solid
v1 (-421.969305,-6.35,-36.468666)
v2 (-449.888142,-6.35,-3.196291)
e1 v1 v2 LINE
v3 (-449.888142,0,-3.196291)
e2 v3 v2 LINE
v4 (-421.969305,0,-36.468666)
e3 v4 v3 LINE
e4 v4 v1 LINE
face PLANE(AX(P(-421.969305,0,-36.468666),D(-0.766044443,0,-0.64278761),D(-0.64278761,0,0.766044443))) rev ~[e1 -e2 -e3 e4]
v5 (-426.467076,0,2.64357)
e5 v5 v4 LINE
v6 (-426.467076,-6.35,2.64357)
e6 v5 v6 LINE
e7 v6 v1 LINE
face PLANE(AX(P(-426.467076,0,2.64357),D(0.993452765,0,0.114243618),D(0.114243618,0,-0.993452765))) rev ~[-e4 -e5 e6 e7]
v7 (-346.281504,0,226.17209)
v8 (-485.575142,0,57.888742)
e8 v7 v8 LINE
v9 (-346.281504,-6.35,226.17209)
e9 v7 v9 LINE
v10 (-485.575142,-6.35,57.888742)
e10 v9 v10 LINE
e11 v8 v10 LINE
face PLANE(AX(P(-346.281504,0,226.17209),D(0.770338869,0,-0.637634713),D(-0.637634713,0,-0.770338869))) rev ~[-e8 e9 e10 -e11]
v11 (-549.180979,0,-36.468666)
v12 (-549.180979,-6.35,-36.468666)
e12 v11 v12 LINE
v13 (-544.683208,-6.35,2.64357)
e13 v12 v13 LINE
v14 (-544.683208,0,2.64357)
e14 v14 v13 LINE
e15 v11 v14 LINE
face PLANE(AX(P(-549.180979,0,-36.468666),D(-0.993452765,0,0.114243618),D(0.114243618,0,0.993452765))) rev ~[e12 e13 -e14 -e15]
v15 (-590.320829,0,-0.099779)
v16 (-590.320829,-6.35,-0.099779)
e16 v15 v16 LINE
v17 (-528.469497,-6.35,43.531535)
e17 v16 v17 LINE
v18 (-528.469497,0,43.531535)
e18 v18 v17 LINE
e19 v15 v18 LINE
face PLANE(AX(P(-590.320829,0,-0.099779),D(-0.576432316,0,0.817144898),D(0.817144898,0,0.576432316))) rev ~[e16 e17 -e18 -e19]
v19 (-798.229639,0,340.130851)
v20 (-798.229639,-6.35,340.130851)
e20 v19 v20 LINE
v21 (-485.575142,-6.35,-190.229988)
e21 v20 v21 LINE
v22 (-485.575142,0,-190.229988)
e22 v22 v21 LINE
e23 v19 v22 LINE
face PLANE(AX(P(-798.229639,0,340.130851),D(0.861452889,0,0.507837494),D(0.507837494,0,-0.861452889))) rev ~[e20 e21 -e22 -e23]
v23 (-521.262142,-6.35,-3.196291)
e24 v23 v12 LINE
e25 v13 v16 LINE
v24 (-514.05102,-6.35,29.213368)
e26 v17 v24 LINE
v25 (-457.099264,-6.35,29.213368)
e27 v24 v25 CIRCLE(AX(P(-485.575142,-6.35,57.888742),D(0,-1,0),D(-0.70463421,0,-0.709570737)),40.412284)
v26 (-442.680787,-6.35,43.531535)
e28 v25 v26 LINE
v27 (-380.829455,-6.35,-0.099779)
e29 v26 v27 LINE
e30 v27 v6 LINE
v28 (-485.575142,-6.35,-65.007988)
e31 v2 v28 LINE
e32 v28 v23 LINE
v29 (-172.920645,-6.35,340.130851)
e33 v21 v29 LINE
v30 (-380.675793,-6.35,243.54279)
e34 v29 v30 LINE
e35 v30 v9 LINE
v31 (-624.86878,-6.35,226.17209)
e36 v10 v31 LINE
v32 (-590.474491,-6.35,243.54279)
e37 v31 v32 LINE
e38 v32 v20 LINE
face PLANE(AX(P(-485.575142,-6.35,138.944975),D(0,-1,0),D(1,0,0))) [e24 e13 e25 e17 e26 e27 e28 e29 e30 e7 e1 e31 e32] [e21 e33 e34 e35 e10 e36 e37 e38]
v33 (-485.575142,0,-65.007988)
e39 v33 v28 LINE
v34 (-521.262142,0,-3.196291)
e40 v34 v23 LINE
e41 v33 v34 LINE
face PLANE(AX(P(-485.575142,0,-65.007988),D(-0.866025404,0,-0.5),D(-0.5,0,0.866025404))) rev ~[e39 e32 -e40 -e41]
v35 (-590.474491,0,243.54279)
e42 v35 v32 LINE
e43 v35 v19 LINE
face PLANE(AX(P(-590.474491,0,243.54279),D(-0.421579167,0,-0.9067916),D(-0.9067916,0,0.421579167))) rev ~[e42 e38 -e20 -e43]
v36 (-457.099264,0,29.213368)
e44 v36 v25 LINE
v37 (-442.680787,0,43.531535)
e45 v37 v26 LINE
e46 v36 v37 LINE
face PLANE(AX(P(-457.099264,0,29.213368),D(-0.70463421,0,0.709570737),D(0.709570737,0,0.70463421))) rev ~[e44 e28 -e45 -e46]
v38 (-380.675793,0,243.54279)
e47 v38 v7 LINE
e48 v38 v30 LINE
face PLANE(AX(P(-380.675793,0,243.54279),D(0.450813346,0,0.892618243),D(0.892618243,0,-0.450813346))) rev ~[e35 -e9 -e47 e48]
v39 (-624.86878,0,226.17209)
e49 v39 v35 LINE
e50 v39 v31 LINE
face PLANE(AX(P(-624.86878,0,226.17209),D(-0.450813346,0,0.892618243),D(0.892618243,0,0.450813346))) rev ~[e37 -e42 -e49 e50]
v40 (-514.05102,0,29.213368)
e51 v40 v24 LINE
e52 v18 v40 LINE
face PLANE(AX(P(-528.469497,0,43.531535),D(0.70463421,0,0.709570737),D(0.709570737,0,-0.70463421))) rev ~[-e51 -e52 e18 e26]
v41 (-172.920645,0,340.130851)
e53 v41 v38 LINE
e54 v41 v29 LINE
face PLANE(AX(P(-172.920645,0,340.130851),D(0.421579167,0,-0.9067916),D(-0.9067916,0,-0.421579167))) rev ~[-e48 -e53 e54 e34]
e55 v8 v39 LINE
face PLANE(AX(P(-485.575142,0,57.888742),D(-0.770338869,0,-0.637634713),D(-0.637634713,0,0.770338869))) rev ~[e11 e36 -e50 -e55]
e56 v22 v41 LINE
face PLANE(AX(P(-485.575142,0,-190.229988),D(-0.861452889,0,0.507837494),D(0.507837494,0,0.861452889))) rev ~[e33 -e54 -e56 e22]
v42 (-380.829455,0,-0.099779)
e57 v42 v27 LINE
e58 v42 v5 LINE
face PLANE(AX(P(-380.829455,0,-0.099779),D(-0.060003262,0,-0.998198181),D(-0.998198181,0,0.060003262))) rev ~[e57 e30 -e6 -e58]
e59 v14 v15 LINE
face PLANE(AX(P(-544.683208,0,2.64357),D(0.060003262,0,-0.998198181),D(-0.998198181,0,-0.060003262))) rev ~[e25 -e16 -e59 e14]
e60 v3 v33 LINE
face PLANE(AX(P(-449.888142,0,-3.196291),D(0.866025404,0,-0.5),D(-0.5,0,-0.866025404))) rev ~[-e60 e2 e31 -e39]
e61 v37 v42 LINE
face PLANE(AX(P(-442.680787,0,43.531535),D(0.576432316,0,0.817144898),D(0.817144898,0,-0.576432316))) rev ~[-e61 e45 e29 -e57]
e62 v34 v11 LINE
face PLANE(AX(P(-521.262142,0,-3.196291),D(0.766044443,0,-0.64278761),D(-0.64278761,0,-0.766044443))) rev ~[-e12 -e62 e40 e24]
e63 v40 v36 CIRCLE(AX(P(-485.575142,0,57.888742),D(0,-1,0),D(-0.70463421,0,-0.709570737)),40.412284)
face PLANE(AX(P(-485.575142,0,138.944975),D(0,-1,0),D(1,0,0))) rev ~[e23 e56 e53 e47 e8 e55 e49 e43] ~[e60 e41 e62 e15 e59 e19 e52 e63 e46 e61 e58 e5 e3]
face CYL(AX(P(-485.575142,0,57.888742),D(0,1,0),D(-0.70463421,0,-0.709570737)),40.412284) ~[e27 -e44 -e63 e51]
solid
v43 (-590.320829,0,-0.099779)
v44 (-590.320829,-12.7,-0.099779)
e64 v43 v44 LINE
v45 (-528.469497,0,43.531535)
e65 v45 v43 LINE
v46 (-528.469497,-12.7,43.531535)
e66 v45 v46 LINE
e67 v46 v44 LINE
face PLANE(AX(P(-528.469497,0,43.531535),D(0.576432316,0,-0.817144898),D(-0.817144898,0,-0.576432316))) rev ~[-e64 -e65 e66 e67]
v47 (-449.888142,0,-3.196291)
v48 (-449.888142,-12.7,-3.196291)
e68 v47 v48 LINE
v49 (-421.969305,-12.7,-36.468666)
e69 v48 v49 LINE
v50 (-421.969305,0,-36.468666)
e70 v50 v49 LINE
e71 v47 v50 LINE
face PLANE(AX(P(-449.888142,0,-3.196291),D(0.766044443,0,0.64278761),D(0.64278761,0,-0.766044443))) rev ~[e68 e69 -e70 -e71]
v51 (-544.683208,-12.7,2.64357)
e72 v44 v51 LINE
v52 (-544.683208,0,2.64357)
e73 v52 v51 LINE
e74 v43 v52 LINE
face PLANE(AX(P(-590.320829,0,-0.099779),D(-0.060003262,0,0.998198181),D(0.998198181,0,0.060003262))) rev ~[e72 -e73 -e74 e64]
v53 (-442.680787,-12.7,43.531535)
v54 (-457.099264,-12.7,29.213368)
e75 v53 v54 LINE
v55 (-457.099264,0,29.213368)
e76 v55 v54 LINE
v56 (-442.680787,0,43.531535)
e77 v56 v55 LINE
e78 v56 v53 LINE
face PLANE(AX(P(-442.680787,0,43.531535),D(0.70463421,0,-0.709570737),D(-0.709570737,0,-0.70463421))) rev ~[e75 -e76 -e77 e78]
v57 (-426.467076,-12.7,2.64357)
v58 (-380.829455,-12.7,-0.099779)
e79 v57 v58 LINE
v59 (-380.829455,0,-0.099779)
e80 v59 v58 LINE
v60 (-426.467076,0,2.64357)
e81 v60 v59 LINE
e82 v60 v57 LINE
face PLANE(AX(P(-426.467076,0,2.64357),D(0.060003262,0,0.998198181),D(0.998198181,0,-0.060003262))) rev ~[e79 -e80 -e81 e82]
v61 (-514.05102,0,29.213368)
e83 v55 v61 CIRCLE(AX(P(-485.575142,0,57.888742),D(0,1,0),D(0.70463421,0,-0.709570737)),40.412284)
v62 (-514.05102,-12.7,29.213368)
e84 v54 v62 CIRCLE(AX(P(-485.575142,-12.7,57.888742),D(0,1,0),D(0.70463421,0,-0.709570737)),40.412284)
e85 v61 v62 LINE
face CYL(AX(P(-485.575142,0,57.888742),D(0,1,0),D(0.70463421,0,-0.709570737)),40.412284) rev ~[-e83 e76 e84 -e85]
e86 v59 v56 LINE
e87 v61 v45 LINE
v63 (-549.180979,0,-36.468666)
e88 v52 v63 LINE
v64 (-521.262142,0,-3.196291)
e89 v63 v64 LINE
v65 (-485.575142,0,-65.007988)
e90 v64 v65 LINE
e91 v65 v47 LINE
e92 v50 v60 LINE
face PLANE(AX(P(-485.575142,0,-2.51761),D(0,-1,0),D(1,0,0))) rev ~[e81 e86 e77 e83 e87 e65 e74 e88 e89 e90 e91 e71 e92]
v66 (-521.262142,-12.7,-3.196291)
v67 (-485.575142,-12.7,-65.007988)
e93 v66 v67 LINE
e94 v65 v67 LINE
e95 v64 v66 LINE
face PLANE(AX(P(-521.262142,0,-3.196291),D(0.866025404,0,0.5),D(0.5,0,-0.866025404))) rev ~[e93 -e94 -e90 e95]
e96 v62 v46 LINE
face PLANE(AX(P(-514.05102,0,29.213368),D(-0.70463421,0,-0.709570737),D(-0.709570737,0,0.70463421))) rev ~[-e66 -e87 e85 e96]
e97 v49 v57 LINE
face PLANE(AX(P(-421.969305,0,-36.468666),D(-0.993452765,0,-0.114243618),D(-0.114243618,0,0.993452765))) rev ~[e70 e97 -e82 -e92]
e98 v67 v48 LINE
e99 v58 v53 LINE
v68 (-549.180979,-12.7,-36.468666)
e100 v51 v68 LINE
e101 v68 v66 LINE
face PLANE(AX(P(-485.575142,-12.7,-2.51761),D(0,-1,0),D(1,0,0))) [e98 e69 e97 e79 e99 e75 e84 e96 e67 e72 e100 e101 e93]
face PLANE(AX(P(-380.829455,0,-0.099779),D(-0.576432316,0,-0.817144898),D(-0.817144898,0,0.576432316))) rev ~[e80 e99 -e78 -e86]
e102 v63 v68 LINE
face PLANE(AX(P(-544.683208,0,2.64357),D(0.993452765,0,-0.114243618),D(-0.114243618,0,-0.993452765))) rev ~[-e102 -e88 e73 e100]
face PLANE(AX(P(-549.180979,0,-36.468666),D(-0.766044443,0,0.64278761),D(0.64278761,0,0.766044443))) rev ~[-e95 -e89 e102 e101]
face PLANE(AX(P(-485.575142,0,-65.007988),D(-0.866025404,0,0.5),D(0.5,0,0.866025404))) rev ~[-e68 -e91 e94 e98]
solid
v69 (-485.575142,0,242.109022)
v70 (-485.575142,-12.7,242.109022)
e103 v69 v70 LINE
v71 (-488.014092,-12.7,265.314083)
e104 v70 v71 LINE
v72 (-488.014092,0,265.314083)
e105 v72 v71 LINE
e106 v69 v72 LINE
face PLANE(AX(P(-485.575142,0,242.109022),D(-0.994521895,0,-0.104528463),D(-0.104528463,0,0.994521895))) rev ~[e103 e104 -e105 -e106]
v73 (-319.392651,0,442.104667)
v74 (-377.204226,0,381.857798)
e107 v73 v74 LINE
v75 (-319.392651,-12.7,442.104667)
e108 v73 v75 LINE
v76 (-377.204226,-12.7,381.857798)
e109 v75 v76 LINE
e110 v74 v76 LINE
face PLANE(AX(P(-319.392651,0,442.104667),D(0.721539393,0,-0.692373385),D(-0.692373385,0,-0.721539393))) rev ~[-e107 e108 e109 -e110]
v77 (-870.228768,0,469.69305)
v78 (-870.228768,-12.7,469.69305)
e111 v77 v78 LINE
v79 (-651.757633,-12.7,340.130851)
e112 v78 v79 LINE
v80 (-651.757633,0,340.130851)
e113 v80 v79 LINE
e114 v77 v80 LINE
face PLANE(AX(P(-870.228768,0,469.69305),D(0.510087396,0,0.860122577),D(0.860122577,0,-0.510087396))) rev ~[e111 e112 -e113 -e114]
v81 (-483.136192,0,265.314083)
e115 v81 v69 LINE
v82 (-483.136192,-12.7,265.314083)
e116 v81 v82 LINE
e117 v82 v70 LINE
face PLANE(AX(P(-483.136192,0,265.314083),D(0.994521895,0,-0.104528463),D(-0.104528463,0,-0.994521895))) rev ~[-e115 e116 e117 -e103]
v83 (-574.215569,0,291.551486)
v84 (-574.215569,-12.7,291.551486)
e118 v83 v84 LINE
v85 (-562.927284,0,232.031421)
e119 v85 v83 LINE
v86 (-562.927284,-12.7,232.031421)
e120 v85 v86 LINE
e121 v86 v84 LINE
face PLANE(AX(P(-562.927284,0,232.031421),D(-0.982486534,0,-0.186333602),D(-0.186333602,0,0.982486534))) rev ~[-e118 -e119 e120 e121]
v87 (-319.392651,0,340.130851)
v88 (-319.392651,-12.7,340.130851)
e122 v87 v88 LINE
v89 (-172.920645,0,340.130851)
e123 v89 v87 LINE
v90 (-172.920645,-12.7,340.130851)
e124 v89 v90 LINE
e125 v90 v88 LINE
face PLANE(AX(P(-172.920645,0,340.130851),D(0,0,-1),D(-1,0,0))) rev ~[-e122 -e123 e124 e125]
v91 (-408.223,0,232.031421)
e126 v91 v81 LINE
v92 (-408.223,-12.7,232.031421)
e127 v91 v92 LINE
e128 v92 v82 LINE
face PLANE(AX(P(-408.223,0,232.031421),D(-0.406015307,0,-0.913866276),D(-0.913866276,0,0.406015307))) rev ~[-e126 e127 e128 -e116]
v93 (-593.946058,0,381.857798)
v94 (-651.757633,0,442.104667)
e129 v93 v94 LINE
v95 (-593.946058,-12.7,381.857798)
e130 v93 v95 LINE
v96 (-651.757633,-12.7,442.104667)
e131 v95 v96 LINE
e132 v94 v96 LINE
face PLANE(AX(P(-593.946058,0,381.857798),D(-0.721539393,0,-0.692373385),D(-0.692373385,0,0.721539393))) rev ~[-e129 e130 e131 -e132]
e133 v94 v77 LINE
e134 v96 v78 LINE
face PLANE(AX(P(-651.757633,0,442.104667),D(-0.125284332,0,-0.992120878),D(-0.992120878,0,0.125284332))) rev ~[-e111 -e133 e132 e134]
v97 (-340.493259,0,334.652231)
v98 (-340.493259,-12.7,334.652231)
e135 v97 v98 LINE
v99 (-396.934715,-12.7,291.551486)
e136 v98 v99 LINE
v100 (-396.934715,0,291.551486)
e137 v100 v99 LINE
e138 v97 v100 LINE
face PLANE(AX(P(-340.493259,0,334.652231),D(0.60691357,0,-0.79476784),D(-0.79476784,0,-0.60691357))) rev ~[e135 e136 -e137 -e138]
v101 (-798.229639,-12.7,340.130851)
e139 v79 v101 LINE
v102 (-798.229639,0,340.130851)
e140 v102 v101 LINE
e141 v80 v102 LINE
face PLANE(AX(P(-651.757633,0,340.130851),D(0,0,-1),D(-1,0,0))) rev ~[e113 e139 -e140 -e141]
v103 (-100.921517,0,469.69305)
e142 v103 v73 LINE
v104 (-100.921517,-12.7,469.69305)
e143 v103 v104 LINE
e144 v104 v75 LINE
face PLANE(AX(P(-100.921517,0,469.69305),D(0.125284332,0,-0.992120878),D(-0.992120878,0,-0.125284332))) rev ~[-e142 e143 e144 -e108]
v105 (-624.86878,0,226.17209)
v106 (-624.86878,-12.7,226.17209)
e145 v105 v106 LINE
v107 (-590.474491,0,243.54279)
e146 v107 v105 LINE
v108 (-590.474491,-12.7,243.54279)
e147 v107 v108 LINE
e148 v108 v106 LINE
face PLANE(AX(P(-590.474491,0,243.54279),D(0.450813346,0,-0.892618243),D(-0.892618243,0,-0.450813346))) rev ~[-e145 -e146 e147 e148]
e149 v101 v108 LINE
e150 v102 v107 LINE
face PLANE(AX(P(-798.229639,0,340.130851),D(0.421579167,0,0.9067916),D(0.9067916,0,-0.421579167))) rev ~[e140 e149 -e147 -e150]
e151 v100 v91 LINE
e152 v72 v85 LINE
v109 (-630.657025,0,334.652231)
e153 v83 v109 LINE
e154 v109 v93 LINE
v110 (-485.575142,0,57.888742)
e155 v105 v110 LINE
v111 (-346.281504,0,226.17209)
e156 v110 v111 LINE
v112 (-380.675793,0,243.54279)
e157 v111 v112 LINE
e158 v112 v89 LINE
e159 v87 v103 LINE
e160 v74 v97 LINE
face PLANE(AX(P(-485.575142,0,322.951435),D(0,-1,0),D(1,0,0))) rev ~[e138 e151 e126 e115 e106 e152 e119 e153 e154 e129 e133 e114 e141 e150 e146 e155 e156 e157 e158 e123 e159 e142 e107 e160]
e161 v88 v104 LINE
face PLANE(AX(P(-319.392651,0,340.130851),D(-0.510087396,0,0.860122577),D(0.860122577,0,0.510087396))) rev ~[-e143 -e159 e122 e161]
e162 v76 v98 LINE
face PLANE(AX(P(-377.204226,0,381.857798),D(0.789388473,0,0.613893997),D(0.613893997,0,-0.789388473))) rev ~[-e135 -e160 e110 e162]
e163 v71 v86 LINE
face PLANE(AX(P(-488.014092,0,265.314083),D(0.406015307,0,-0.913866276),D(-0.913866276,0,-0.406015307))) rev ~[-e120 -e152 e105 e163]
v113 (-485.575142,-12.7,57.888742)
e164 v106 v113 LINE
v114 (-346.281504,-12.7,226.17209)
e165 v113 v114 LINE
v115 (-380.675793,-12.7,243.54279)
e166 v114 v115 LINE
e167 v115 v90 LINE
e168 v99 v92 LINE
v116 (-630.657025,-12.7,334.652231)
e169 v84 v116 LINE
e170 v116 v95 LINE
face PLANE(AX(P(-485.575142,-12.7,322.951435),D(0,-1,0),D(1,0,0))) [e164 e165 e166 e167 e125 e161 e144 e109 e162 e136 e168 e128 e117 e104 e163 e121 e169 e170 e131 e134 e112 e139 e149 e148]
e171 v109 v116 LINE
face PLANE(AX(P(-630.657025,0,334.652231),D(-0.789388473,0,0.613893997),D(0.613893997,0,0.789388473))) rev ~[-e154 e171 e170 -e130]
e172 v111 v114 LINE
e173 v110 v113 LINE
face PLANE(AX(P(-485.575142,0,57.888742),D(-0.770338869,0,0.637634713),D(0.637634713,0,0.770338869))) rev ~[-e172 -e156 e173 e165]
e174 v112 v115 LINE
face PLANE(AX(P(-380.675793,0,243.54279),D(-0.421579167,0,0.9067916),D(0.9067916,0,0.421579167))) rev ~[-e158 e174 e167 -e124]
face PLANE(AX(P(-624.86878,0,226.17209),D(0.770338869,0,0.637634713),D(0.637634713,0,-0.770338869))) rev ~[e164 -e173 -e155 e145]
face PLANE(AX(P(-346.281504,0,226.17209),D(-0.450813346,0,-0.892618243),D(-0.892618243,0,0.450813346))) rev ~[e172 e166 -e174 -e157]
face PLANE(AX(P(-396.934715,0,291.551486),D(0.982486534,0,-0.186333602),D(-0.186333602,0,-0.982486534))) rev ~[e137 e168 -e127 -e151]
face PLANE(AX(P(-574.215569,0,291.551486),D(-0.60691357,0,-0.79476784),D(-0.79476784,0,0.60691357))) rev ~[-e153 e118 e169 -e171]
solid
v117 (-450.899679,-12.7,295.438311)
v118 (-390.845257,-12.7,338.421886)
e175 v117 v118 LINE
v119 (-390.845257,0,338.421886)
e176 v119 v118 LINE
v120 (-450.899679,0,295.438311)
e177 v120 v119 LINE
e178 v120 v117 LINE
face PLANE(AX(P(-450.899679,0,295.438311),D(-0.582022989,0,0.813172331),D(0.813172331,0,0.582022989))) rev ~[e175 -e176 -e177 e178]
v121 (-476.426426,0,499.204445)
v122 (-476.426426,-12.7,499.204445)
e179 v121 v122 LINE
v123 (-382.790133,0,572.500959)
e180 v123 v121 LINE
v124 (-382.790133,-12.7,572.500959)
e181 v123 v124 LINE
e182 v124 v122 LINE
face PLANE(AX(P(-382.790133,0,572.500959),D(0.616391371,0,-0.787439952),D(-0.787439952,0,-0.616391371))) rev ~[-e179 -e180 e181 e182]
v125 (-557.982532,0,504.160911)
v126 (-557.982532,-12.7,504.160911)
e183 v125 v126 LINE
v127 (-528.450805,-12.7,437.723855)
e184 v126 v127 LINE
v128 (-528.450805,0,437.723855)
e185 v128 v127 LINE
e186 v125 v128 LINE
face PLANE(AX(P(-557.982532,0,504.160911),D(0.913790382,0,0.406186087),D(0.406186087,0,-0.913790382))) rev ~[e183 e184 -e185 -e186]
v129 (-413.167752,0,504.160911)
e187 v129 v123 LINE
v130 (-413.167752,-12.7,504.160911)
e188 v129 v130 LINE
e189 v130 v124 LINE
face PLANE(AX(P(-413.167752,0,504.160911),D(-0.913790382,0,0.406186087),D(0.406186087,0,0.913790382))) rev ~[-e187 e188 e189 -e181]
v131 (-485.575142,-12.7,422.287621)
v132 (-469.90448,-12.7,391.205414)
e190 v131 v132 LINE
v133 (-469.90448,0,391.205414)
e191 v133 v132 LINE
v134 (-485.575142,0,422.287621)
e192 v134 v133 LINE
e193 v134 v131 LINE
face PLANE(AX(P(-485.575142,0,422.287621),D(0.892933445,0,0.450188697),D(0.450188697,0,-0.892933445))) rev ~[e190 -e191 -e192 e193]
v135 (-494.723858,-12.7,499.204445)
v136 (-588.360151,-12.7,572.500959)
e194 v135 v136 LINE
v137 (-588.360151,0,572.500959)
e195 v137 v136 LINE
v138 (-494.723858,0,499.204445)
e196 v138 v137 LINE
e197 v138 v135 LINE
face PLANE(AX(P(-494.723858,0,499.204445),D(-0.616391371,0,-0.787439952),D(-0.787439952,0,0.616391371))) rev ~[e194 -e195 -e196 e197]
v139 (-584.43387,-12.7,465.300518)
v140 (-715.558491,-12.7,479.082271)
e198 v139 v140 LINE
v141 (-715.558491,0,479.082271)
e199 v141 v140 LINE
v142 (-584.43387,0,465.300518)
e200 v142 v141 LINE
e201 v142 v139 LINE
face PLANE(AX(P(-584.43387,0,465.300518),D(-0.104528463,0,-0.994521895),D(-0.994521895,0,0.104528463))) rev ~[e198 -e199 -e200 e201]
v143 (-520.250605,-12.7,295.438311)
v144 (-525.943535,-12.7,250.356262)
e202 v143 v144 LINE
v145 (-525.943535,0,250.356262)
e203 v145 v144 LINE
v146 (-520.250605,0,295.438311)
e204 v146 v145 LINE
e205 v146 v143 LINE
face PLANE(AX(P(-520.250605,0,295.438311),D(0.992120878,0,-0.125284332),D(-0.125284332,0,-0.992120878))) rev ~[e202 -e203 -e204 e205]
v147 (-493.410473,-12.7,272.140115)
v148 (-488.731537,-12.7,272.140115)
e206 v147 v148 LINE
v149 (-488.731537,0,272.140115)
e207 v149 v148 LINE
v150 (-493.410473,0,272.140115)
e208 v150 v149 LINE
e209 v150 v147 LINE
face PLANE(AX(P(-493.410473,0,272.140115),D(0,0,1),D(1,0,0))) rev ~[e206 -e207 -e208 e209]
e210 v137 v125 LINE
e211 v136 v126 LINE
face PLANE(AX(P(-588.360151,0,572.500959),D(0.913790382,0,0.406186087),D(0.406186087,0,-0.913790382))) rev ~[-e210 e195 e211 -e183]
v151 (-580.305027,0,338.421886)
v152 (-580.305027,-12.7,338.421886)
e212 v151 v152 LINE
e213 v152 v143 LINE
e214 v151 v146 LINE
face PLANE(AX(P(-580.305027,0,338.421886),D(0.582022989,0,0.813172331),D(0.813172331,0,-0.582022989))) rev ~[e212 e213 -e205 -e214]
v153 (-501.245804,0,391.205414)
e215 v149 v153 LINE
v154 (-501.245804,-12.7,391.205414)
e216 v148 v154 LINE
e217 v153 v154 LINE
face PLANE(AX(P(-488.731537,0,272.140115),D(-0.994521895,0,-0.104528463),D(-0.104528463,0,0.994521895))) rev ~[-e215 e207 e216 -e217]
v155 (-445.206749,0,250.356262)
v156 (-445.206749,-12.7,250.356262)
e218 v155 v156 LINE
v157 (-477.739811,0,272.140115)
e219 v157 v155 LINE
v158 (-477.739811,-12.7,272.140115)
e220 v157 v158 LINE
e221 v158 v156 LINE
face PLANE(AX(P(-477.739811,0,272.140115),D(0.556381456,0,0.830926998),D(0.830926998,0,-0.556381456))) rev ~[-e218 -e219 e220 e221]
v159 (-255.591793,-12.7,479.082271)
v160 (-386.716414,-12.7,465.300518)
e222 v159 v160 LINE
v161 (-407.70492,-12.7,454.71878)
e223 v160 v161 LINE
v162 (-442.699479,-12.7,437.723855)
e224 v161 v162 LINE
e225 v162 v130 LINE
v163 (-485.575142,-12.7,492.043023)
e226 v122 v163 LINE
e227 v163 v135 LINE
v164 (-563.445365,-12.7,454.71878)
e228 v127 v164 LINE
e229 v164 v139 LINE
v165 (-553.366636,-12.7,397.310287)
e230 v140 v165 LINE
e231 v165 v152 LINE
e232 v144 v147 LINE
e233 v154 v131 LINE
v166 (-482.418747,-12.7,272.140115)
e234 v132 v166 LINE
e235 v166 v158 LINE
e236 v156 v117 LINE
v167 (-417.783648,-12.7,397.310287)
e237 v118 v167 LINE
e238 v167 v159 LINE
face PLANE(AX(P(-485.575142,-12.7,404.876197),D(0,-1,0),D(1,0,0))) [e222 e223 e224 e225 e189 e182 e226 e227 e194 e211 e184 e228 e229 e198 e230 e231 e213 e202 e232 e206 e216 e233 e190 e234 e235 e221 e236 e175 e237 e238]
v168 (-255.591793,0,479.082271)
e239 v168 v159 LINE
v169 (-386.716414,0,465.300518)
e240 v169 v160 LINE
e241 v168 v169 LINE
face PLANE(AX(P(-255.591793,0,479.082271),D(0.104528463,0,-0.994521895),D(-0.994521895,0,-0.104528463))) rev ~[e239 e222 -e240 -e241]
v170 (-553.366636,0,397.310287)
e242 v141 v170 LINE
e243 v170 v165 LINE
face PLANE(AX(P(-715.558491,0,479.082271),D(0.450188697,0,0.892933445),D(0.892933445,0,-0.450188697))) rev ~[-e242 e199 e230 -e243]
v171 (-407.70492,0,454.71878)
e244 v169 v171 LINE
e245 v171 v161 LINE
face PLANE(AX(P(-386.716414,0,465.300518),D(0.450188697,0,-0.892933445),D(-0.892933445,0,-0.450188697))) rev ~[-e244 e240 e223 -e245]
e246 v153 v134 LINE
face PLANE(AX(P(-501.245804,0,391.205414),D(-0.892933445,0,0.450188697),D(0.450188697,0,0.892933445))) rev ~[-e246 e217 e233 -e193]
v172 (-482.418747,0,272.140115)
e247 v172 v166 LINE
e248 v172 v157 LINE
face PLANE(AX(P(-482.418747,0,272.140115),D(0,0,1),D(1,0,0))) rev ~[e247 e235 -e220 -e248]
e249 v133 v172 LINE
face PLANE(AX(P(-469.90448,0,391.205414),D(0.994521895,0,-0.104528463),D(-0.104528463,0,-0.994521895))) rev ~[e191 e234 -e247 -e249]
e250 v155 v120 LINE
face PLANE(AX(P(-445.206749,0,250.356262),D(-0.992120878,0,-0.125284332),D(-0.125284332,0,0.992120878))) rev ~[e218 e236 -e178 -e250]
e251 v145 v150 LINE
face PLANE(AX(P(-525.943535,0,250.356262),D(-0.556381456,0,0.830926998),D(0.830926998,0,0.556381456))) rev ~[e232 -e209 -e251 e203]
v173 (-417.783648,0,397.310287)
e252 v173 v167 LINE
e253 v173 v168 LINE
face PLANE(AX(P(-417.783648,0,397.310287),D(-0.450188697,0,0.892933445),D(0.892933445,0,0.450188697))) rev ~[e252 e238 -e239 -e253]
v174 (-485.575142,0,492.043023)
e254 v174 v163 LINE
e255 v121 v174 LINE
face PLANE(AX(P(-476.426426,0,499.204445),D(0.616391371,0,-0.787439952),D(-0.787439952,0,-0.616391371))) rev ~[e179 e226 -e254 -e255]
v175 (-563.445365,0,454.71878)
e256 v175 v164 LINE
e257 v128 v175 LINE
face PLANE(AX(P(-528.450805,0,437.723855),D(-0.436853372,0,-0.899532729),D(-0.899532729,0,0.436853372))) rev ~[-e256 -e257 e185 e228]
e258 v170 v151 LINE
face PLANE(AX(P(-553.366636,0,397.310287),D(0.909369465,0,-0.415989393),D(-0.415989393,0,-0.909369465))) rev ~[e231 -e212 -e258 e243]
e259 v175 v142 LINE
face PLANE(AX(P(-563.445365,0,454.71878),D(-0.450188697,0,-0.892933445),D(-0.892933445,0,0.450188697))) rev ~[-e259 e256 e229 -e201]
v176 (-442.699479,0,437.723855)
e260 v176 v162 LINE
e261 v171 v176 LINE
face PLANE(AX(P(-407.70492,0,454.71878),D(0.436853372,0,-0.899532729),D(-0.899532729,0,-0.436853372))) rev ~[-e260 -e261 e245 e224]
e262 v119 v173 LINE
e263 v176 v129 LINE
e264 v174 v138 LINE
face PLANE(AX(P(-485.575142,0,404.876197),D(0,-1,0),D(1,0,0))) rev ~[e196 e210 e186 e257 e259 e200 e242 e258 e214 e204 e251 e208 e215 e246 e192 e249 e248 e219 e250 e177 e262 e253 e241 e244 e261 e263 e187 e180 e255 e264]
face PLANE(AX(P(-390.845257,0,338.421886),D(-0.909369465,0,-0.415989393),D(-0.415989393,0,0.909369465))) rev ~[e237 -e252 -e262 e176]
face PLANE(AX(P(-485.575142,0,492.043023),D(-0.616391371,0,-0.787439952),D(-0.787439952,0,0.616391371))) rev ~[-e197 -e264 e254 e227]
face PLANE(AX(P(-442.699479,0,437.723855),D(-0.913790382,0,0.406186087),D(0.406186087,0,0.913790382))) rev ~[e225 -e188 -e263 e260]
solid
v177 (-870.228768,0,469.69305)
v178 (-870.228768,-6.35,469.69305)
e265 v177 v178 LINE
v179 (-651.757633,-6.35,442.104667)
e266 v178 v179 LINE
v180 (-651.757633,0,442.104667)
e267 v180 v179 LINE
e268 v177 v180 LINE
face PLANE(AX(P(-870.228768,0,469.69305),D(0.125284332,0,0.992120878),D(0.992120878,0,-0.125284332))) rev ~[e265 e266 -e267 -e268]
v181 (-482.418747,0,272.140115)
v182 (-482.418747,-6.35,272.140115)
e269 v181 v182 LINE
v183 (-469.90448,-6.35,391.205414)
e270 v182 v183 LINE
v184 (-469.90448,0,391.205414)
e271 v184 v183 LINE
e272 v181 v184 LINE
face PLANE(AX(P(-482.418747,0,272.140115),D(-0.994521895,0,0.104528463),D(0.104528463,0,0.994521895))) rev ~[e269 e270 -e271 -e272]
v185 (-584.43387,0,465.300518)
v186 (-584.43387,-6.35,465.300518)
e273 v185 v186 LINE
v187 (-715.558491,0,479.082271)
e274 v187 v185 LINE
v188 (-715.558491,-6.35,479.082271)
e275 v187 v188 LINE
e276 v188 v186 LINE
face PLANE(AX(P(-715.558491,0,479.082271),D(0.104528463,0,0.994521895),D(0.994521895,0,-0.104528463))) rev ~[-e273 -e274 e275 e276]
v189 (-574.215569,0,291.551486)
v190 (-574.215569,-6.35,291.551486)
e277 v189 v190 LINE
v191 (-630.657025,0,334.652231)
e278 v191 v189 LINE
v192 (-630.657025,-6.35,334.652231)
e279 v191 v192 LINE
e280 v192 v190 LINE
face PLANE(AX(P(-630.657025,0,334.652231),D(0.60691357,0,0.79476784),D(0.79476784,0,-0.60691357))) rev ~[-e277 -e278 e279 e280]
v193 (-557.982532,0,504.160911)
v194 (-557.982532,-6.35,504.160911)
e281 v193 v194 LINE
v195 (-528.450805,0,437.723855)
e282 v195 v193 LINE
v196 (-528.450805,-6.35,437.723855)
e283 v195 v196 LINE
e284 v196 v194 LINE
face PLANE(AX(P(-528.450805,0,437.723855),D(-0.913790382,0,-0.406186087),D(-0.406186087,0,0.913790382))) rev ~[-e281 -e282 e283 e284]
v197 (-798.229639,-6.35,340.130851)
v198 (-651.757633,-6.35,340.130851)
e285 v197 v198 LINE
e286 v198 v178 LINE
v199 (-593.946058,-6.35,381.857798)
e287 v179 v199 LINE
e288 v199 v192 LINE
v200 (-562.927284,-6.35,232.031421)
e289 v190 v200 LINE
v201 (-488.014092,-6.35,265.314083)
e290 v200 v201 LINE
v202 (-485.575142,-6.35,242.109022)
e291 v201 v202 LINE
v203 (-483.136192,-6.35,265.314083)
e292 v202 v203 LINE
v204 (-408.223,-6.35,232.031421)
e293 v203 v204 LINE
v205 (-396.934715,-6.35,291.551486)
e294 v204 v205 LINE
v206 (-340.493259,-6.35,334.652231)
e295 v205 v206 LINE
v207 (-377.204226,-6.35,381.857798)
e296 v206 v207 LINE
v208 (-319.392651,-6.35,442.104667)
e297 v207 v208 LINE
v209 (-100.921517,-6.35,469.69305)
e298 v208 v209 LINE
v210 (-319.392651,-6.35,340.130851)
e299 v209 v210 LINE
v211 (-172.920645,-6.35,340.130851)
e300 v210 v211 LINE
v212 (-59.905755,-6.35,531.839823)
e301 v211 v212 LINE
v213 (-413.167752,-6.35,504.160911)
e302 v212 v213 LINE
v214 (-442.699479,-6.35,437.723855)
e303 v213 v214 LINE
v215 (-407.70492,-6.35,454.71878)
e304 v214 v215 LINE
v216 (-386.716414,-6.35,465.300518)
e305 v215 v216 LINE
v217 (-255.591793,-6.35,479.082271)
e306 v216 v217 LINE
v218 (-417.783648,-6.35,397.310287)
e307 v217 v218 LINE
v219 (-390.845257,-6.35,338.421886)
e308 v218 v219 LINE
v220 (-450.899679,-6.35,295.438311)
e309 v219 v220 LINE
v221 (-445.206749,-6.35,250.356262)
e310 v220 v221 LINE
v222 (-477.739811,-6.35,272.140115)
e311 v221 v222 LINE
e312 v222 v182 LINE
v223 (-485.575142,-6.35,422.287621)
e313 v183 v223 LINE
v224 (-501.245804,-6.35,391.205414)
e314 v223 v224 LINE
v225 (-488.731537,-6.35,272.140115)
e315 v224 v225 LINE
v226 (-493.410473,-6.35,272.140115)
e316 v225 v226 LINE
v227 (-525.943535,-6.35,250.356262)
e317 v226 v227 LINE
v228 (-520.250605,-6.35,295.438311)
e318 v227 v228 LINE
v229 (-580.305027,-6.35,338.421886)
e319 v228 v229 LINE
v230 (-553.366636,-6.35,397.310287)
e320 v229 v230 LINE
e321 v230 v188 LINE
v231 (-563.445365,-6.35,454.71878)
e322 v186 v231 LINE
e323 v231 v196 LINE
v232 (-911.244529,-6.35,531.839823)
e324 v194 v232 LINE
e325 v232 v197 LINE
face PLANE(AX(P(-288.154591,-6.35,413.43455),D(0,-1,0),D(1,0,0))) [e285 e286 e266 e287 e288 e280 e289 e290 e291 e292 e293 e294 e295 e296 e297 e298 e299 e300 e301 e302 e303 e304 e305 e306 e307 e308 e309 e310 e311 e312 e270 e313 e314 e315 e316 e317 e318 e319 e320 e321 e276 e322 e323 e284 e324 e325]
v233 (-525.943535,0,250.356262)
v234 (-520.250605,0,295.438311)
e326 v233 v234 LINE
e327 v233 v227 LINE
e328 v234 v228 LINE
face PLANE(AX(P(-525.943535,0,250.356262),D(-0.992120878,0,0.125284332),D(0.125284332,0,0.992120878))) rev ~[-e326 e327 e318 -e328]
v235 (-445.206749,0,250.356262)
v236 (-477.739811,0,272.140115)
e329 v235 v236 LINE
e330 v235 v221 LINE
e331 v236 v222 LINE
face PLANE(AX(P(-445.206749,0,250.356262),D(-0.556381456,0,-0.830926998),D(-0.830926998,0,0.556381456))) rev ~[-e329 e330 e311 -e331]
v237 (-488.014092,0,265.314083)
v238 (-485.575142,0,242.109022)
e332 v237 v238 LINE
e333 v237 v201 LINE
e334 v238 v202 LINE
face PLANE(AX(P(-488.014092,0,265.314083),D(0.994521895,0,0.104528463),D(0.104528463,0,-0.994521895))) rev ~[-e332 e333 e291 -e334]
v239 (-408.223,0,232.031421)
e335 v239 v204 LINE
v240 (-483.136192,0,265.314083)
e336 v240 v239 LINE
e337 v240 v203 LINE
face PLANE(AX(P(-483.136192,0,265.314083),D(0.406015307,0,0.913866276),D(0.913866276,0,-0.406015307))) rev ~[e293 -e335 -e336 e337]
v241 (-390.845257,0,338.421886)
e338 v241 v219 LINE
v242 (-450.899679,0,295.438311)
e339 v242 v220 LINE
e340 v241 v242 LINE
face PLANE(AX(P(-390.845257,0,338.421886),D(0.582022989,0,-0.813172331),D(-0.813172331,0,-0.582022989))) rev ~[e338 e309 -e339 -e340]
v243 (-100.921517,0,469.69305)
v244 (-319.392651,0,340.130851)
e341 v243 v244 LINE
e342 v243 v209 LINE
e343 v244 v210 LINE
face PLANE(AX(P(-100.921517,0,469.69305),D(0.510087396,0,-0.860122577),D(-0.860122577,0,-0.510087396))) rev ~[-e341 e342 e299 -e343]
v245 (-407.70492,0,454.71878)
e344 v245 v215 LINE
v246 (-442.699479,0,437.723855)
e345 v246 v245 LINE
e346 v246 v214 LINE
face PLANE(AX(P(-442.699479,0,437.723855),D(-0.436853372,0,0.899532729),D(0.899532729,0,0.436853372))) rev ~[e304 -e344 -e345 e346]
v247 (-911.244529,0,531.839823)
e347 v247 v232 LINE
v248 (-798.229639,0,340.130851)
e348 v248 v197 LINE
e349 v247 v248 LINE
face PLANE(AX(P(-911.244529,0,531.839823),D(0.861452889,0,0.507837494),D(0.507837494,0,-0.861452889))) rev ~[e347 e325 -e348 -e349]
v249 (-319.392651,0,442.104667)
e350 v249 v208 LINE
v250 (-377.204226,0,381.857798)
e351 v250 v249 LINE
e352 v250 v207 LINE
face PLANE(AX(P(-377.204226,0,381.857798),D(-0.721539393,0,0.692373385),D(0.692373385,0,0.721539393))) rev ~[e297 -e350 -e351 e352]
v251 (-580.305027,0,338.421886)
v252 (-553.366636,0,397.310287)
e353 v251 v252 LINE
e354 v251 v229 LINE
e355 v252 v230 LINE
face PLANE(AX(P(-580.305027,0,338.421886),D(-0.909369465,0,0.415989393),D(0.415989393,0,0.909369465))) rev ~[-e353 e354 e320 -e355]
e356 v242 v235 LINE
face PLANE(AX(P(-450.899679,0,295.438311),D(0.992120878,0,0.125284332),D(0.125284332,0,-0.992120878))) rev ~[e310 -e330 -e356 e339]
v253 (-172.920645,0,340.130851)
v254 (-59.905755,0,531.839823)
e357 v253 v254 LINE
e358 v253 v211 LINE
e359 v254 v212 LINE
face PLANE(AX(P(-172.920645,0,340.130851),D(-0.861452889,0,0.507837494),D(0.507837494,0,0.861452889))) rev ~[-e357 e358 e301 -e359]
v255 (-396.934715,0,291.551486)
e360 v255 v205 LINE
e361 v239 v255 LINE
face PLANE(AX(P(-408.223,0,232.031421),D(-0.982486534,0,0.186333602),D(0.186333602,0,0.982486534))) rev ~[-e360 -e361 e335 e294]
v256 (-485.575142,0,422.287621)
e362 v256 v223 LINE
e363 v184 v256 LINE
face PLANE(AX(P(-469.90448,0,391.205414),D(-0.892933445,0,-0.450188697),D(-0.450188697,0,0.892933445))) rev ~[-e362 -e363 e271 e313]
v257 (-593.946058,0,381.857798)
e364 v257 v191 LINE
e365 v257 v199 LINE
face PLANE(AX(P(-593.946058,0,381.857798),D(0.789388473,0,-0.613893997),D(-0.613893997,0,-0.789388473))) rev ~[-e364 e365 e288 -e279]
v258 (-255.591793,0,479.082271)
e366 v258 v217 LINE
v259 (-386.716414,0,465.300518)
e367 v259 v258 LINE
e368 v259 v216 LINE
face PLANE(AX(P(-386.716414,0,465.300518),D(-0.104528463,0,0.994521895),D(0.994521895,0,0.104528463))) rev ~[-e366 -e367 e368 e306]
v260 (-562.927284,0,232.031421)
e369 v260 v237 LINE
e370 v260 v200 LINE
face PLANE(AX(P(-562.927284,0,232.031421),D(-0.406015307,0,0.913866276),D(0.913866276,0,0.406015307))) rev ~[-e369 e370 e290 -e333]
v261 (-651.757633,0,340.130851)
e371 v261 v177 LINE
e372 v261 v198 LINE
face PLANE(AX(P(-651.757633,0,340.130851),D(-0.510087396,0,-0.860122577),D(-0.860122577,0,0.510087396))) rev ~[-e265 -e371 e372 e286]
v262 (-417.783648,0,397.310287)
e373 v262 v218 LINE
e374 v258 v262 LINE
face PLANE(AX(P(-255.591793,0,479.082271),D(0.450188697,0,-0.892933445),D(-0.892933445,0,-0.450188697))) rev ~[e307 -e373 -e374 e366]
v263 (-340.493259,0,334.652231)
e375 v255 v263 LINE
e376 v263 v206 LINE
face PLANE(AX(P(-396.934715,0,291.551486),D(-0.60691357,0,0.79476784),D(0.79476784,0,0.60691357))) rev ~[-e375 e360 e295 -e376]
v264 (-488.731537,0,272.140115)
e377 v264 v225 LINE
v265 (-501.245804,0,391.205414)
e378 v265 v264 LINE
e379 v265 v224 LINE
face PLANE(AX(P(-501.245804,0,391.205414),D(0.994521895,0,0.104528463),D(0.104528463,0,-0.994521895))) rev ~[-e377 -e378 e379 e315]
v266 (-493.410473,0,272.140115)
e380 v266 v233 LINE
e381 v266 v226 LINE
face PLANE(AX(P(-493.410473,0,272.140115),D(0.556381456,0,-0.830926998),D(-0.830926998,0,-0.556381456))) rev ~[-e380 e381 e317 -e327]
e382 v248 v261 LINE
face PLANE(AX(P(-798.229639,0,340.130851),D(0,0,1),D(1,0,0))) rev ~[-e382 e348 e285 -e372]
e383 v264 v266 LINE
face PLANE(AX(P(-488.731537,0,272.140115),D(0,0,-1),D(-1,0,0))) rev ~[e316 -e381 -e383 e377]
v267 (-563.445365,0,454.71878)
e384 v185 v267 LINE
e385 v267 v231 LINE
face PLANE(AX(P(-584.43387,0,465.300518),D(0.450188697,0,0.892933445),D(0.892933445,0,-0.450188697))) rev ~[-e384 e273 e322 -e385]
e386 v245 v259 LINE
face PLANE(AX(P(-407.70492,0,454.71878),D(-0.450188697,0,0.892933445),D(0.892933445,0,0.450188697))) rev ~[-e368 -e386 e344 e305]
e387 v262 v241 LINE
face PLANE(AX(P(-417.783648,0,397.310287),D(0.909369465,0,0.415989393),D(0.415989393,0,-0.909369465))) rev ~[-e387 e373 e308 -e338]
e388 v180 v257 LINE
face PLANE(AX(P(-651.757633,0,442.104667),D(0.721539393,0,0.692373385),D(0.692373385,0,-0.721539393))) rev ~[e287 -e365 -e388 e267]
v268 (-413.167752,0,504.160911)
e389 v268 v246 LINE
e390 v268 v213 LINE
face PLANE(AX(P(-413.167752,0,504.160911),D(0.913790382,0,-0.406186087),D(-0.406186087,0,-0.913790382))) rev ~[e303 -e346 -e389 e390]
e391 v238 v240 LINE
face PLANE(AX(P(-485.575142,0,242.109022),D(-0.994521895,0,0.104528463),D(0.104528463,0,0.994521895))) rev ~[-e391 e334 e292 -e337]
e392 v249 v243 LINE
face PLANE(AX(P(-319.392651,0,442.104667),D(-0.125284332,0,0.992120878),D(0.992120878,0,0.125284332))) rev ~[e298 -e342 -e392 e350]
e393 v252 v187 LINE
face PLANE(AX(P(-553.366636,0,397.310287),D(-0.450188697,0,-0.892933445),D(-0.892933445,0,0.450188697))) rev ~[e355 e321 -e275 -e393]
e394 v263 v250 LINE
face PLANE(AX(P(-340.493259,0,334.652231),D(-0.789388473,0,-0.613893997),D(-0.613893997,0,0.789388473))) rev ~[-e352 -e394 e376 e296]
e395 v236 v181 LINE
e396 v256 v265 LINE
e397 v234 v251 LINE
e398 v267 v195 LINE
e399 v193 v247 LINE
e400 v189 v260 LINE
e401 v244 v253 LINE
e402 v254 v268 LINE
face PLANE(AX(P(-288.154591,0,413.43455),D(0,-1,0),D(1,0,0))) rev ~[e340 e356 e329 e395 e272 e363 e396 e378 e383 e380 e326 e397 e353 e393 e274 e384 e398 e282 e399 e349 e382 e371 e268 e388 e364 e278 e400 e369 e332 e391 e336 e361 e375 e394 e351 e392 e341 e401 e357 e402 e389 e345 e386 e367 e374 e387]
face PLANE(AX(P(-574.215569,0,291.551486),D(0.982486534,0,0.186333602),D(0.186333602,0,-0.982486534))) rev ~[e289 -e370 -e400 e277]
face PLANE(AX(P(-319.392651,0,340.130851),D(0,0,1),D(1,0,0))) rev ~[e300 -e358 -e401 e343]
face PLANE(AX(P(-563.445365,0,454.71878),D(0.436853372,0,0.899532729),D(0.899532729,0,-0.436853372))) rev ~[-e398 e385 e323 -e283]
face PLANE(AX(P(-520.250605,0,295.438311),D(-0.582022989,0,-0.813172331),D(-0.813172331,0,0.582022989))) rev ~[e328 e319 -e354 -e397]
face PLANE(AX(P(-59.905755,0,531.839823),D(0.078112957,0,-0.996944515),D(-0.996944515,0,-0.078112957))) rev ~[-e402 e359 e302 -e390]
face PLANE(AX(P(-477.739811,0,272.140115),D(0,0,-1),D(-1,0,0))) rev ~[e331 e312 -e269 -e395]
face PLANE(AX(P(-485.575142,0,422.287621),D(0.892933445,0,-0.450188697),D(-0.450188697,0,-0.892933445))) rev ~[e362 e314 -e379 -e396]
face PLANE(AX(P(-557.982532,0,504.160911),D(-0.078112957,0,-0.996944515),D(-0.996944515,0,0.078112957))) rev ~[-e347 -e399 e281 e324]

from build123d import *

# Parameters (mm, degrees)
F1_DEPTH = 6.35
F2_DEPTH = 12.7


with BuildPart() as f1:
    # F0 (on Front) → F1 (new body)
    with BuildSketch(Plane.XZ):
        Polygon((-485.5751420818, -190.2299884788), (-172.9206451465, 340.130851128), (-380.6757926941, 243.5427904129), (-346.2815037892, 226.1720895767), (-485.5751420818, 57.8887422456), (-624.8687803745, 226.1720895767), (-590.4744914696, 243.5427904129), (-798.2296390172, 340.130851128), align=None)
        with BuildLine():
            Line((-449.8881420818, -3.1962913091), (-485.5751420818, -65.0079884788))
            Line((-485.5751420818, -65.0079884788), (-521.2621420818, -3.1962913091))
            Line((-521.2621420818, -3.1962913091), (-549.180979121, -36.4686656515))
            Line((-549.180979121, -36.4686656515), (-544.6832078992, 2.643569698))
            Line((-544.6832078992, 2.643569698), (-590.3208287346, -0.0997794377))
            Line((-590.3208287346, -0.0997794377), (-528.4694970898, 43.5315354378))
            Line((-528.4694970898, 43.5315354378), (-514.0510197234, 29.2133682914))
            ThreePointArc((-514.0510197234, 29.2133682914), (-485.5751420818, 17.4764584835), (-457.0992644403, 29.2133682914))
            Line((-457.0992644403, 29.2133682914), (-442.6807870739, 43.5315354378))
            Line((-442.6807870739, 43.5315354378), (-380.8294554291, -0.0997794377))
            Line((-380.8294554291, -0.0997794377), (-426.4670762645, 2.643569698))
            Line((-426.4670762645, 2.643569698), (-421.9693050427, -36.4686656515))
            Line((-421.9693050427, -36.4686656515), (-449.8881420818, -3.1962913091))
        make_face(mode=Mode.SUBTRACT)
    extrude(amount=F1_DEPTH)


with BuildPart() as f1b:
    # F0 (on Front) → F1, piece 2 (new body)
    with BuildSketch(Plane.XZ):
        Polygon((-172.9206451465, 340.130851128), (-59.9057547382, 531.8398230204), (-413.167752041, 504.1609113641), (-442.6994789512, 437.7238548981), (-407.7049196339, 454.7187798673), (-386.7164137088, 465.3005182942), (-255.5917930773, 479.0822712702), (-417.7836477757, 397.3102867603), (-390.8452568724, 338.421885956), (-450.8996789181, 295.4383105375), (-445.2067492678, 250.3562617189), (-477.7398109436, 272.1401154995), (-482.4187469524, 272.1401154995), (-483.136191916, 265.3140826404), (-408.2230004371, 232.0314205909), (-396.9347151817, 291.5514863754), (-340.4932591022, 334.6522308612), (-377.2042264194, 381.8577982212), (-319.3926513195, 442.1046674252), (-100.9215166589, 469.6930497821), (-319.3926513195, 340.130851128), align=None)
        Polygon((-911.2445294255, 531.8398230204), (-798.2296390172, 340.130851128), (-651.7576328442, 340.130851128), (-870.2287675048, 469.6930497821), (-651.7576328442, 442.1046674252), (-593.9460577443, 381.8577982212), (-630.6570250615, 334.6522308612), (-574.215568982, 291.5514863754), (-562.9272837265, 232.0314205909), (-488.0140922477, 265.3140826404), (-488.7315372112, 272.1401154995), (-493.4104732201, 272.1401154995), (-525.9435348959, 250.3562617189), (-520.2506052456, 295.4383105375), (-580.3050272913, 338.421885956), (-553.366636388, 397.3102867603), (-715.5584910864, 479.0822712702), (-584.4338704548, 465.3005182942), (-563.4453645297, 454.7187798673), (-528.4508052125, 437.7238548981), (-557.9825321227, 504.1609113641), align=None)
        Polygon((-485.5751420818, 242.1090218769), (-483.136191916, 265.3140826404), (-482.4187469524, 272.1401154995), (-469.9044798054, 391.2054140143), (-485.5751420818, 422.2876213768), (-501.2458043583, 391.2054140143), (-488.7315372112, 272.1401154995), (-488.0140922477, 265.3140826404), align=None)
    extrude(amount=F1_DEPTH)


with BuildPart() as f2:
    # F0 (on Front) → F2 (new body)
    with BuildSketch(Plane.XZ):
        Polygon((-442.6994789512, 437.7238548981), (-413.167752041, 504.1609113641), (-476.4264261655, 499.2044448719), (-485.5751420818, 492.043023193), (-494.7238579982, 499.2044448719), (-557.9825321227, 504.1609113641), (-528.4508052125, 437.7238548981), (-563.4453645297, 454.7187798673), (-584.4338704548, 465.3005182942), (-715.5584910864, 479.0822712702), (-553.366636388, 397.3102867603), (-580.3050272913, 338.421885956), (-520.2506052456, 295.4383105375), (-525.9435348959, 250.3562617189), (-493.4104732201, 272.1401154995), (-488.7315372112, 272.1401154995), (-501.2458043583, 391.2054140143), (-485.5751420818, 422.2876213768), (-469.9044798054, 391.2054140143), (-482.4187469524, 272.1401154995), (-477.7398109436, 272.1401154995), (-445.2067492678, 250.3562617189), (-450.8996789181, 295.4383105375), (-390.8452568724, 338.421885956), (-417.7836477757, 397.3102867603), (-255.5917930773, 479.0822712702), (-386.7164137088, 465.3005182942), (-407.7049196339, 454.7187798673), align=None)
        Polygon((-476.4264261655, 499.2044448719), (-413.167752041, 504.1609113641), (-382.7901326724, 572.5009586441), align=None)
        Polygon((-557.9825321227, 504.1609113641), (-494.7238579982, 499.2044448719), (-588.3601514913, 572.5009586441), align=None)
    extrude(amount=F2_DEPTH)


with BuildPart() as f2b:
    # F0 (on Front) → F2, piece 2 (new body)
    with BuildSketch(Plane.XZ):
        with BuildLine():
            Line((-521.2621420818, -3.1962913091), (-485.5751420818, -65.0079884788))
            Line((-485.5751420818, -65.0079884788), (-449.8881420818, -3.1962913091))
            Line((-449.8881420818, -3.1962913091), (-421.9693050427, -36.4686656515))
            Line((-421.9693050427, -36.4686656515), (-426.4670762645, 2.643569698))
            Line((-426.4670762645, 2.643569698), (-380.8294554291, -0.0997794377))
            Line((-380.8294554291, -0.0997794377), (-442.6807870739, 43.5315354378))
            Line((-442.6807870739, 43.5315354378), (-457.0992644403, 29.2133682914))
            ThreePointArc((-457.0992644403, 29.2133682914), (-485.5751420818, 17.4764584835), (-514.0510197234, 29.2133682914))
            Line((-514.0510197234, 29.2133682914), (-528.4694970898, 43.5315354378))
            Line((-528.4694970898, 43.5315354378), (-590.3208287346, -0.0997794377))
            Line((-590.3208287346, -0.0997794377), (-544.6832078992, 2.643569698))
            Line((-544.6832078992, 2.643569698), (-549.180979121, -36.4686656515))
            Line((-549.180979121, -36.4686656515), (-521.2621420818, -3.1962913091))
        make_face()
    extrude(amount=F2_DEPTH)


with BuildPart() as f2c:
    # F0 (on Front) → F2, piece 3 (new body)
    with BuildSketch(Plane.XZ):
        Polygon((-380.6757926941, 243.5427904129), (-172.9206451465, 340.130851128), (-319.3926513195, 340.130851128), (-100.9215166589, 469.6930497821), (-319.3926513195, 442.1046674252), (-377.2042264194, 381.8577982212), (-340.4932591022, 334.6522308612), (-396.9347151817, 291.5514863754), (-408.2230004371, 232.0314205909), (-483.136191916, 265.3140826404), (-485.5751420818, 242.1090218769), (-488.0140922477, 265.3140826404), (-562.9272837265, 232.0314205909), (-574.215568982, 291.5514863754), (-630.6570250615, 334.6522308612), (-593.9460577443, 381.8577982212), (-651.7576328442, 442.1046674252), (-870.2287675048, 469.6930497821), (-651.7576328442, 340.130851128), (-798.2296390172, 340.130851128), (-590.4744914696, 243.5427904129), (-624.8687803745, 226.1720895767), (-485.5751420818, 57.8887422456), (-346.2815037892, 226.1720895767), align=None)
    extrude(amount=F2_DEPTH)


solid = Compound([f1.part, f1b.part, f2.part, f2b.part, f2c.part])
